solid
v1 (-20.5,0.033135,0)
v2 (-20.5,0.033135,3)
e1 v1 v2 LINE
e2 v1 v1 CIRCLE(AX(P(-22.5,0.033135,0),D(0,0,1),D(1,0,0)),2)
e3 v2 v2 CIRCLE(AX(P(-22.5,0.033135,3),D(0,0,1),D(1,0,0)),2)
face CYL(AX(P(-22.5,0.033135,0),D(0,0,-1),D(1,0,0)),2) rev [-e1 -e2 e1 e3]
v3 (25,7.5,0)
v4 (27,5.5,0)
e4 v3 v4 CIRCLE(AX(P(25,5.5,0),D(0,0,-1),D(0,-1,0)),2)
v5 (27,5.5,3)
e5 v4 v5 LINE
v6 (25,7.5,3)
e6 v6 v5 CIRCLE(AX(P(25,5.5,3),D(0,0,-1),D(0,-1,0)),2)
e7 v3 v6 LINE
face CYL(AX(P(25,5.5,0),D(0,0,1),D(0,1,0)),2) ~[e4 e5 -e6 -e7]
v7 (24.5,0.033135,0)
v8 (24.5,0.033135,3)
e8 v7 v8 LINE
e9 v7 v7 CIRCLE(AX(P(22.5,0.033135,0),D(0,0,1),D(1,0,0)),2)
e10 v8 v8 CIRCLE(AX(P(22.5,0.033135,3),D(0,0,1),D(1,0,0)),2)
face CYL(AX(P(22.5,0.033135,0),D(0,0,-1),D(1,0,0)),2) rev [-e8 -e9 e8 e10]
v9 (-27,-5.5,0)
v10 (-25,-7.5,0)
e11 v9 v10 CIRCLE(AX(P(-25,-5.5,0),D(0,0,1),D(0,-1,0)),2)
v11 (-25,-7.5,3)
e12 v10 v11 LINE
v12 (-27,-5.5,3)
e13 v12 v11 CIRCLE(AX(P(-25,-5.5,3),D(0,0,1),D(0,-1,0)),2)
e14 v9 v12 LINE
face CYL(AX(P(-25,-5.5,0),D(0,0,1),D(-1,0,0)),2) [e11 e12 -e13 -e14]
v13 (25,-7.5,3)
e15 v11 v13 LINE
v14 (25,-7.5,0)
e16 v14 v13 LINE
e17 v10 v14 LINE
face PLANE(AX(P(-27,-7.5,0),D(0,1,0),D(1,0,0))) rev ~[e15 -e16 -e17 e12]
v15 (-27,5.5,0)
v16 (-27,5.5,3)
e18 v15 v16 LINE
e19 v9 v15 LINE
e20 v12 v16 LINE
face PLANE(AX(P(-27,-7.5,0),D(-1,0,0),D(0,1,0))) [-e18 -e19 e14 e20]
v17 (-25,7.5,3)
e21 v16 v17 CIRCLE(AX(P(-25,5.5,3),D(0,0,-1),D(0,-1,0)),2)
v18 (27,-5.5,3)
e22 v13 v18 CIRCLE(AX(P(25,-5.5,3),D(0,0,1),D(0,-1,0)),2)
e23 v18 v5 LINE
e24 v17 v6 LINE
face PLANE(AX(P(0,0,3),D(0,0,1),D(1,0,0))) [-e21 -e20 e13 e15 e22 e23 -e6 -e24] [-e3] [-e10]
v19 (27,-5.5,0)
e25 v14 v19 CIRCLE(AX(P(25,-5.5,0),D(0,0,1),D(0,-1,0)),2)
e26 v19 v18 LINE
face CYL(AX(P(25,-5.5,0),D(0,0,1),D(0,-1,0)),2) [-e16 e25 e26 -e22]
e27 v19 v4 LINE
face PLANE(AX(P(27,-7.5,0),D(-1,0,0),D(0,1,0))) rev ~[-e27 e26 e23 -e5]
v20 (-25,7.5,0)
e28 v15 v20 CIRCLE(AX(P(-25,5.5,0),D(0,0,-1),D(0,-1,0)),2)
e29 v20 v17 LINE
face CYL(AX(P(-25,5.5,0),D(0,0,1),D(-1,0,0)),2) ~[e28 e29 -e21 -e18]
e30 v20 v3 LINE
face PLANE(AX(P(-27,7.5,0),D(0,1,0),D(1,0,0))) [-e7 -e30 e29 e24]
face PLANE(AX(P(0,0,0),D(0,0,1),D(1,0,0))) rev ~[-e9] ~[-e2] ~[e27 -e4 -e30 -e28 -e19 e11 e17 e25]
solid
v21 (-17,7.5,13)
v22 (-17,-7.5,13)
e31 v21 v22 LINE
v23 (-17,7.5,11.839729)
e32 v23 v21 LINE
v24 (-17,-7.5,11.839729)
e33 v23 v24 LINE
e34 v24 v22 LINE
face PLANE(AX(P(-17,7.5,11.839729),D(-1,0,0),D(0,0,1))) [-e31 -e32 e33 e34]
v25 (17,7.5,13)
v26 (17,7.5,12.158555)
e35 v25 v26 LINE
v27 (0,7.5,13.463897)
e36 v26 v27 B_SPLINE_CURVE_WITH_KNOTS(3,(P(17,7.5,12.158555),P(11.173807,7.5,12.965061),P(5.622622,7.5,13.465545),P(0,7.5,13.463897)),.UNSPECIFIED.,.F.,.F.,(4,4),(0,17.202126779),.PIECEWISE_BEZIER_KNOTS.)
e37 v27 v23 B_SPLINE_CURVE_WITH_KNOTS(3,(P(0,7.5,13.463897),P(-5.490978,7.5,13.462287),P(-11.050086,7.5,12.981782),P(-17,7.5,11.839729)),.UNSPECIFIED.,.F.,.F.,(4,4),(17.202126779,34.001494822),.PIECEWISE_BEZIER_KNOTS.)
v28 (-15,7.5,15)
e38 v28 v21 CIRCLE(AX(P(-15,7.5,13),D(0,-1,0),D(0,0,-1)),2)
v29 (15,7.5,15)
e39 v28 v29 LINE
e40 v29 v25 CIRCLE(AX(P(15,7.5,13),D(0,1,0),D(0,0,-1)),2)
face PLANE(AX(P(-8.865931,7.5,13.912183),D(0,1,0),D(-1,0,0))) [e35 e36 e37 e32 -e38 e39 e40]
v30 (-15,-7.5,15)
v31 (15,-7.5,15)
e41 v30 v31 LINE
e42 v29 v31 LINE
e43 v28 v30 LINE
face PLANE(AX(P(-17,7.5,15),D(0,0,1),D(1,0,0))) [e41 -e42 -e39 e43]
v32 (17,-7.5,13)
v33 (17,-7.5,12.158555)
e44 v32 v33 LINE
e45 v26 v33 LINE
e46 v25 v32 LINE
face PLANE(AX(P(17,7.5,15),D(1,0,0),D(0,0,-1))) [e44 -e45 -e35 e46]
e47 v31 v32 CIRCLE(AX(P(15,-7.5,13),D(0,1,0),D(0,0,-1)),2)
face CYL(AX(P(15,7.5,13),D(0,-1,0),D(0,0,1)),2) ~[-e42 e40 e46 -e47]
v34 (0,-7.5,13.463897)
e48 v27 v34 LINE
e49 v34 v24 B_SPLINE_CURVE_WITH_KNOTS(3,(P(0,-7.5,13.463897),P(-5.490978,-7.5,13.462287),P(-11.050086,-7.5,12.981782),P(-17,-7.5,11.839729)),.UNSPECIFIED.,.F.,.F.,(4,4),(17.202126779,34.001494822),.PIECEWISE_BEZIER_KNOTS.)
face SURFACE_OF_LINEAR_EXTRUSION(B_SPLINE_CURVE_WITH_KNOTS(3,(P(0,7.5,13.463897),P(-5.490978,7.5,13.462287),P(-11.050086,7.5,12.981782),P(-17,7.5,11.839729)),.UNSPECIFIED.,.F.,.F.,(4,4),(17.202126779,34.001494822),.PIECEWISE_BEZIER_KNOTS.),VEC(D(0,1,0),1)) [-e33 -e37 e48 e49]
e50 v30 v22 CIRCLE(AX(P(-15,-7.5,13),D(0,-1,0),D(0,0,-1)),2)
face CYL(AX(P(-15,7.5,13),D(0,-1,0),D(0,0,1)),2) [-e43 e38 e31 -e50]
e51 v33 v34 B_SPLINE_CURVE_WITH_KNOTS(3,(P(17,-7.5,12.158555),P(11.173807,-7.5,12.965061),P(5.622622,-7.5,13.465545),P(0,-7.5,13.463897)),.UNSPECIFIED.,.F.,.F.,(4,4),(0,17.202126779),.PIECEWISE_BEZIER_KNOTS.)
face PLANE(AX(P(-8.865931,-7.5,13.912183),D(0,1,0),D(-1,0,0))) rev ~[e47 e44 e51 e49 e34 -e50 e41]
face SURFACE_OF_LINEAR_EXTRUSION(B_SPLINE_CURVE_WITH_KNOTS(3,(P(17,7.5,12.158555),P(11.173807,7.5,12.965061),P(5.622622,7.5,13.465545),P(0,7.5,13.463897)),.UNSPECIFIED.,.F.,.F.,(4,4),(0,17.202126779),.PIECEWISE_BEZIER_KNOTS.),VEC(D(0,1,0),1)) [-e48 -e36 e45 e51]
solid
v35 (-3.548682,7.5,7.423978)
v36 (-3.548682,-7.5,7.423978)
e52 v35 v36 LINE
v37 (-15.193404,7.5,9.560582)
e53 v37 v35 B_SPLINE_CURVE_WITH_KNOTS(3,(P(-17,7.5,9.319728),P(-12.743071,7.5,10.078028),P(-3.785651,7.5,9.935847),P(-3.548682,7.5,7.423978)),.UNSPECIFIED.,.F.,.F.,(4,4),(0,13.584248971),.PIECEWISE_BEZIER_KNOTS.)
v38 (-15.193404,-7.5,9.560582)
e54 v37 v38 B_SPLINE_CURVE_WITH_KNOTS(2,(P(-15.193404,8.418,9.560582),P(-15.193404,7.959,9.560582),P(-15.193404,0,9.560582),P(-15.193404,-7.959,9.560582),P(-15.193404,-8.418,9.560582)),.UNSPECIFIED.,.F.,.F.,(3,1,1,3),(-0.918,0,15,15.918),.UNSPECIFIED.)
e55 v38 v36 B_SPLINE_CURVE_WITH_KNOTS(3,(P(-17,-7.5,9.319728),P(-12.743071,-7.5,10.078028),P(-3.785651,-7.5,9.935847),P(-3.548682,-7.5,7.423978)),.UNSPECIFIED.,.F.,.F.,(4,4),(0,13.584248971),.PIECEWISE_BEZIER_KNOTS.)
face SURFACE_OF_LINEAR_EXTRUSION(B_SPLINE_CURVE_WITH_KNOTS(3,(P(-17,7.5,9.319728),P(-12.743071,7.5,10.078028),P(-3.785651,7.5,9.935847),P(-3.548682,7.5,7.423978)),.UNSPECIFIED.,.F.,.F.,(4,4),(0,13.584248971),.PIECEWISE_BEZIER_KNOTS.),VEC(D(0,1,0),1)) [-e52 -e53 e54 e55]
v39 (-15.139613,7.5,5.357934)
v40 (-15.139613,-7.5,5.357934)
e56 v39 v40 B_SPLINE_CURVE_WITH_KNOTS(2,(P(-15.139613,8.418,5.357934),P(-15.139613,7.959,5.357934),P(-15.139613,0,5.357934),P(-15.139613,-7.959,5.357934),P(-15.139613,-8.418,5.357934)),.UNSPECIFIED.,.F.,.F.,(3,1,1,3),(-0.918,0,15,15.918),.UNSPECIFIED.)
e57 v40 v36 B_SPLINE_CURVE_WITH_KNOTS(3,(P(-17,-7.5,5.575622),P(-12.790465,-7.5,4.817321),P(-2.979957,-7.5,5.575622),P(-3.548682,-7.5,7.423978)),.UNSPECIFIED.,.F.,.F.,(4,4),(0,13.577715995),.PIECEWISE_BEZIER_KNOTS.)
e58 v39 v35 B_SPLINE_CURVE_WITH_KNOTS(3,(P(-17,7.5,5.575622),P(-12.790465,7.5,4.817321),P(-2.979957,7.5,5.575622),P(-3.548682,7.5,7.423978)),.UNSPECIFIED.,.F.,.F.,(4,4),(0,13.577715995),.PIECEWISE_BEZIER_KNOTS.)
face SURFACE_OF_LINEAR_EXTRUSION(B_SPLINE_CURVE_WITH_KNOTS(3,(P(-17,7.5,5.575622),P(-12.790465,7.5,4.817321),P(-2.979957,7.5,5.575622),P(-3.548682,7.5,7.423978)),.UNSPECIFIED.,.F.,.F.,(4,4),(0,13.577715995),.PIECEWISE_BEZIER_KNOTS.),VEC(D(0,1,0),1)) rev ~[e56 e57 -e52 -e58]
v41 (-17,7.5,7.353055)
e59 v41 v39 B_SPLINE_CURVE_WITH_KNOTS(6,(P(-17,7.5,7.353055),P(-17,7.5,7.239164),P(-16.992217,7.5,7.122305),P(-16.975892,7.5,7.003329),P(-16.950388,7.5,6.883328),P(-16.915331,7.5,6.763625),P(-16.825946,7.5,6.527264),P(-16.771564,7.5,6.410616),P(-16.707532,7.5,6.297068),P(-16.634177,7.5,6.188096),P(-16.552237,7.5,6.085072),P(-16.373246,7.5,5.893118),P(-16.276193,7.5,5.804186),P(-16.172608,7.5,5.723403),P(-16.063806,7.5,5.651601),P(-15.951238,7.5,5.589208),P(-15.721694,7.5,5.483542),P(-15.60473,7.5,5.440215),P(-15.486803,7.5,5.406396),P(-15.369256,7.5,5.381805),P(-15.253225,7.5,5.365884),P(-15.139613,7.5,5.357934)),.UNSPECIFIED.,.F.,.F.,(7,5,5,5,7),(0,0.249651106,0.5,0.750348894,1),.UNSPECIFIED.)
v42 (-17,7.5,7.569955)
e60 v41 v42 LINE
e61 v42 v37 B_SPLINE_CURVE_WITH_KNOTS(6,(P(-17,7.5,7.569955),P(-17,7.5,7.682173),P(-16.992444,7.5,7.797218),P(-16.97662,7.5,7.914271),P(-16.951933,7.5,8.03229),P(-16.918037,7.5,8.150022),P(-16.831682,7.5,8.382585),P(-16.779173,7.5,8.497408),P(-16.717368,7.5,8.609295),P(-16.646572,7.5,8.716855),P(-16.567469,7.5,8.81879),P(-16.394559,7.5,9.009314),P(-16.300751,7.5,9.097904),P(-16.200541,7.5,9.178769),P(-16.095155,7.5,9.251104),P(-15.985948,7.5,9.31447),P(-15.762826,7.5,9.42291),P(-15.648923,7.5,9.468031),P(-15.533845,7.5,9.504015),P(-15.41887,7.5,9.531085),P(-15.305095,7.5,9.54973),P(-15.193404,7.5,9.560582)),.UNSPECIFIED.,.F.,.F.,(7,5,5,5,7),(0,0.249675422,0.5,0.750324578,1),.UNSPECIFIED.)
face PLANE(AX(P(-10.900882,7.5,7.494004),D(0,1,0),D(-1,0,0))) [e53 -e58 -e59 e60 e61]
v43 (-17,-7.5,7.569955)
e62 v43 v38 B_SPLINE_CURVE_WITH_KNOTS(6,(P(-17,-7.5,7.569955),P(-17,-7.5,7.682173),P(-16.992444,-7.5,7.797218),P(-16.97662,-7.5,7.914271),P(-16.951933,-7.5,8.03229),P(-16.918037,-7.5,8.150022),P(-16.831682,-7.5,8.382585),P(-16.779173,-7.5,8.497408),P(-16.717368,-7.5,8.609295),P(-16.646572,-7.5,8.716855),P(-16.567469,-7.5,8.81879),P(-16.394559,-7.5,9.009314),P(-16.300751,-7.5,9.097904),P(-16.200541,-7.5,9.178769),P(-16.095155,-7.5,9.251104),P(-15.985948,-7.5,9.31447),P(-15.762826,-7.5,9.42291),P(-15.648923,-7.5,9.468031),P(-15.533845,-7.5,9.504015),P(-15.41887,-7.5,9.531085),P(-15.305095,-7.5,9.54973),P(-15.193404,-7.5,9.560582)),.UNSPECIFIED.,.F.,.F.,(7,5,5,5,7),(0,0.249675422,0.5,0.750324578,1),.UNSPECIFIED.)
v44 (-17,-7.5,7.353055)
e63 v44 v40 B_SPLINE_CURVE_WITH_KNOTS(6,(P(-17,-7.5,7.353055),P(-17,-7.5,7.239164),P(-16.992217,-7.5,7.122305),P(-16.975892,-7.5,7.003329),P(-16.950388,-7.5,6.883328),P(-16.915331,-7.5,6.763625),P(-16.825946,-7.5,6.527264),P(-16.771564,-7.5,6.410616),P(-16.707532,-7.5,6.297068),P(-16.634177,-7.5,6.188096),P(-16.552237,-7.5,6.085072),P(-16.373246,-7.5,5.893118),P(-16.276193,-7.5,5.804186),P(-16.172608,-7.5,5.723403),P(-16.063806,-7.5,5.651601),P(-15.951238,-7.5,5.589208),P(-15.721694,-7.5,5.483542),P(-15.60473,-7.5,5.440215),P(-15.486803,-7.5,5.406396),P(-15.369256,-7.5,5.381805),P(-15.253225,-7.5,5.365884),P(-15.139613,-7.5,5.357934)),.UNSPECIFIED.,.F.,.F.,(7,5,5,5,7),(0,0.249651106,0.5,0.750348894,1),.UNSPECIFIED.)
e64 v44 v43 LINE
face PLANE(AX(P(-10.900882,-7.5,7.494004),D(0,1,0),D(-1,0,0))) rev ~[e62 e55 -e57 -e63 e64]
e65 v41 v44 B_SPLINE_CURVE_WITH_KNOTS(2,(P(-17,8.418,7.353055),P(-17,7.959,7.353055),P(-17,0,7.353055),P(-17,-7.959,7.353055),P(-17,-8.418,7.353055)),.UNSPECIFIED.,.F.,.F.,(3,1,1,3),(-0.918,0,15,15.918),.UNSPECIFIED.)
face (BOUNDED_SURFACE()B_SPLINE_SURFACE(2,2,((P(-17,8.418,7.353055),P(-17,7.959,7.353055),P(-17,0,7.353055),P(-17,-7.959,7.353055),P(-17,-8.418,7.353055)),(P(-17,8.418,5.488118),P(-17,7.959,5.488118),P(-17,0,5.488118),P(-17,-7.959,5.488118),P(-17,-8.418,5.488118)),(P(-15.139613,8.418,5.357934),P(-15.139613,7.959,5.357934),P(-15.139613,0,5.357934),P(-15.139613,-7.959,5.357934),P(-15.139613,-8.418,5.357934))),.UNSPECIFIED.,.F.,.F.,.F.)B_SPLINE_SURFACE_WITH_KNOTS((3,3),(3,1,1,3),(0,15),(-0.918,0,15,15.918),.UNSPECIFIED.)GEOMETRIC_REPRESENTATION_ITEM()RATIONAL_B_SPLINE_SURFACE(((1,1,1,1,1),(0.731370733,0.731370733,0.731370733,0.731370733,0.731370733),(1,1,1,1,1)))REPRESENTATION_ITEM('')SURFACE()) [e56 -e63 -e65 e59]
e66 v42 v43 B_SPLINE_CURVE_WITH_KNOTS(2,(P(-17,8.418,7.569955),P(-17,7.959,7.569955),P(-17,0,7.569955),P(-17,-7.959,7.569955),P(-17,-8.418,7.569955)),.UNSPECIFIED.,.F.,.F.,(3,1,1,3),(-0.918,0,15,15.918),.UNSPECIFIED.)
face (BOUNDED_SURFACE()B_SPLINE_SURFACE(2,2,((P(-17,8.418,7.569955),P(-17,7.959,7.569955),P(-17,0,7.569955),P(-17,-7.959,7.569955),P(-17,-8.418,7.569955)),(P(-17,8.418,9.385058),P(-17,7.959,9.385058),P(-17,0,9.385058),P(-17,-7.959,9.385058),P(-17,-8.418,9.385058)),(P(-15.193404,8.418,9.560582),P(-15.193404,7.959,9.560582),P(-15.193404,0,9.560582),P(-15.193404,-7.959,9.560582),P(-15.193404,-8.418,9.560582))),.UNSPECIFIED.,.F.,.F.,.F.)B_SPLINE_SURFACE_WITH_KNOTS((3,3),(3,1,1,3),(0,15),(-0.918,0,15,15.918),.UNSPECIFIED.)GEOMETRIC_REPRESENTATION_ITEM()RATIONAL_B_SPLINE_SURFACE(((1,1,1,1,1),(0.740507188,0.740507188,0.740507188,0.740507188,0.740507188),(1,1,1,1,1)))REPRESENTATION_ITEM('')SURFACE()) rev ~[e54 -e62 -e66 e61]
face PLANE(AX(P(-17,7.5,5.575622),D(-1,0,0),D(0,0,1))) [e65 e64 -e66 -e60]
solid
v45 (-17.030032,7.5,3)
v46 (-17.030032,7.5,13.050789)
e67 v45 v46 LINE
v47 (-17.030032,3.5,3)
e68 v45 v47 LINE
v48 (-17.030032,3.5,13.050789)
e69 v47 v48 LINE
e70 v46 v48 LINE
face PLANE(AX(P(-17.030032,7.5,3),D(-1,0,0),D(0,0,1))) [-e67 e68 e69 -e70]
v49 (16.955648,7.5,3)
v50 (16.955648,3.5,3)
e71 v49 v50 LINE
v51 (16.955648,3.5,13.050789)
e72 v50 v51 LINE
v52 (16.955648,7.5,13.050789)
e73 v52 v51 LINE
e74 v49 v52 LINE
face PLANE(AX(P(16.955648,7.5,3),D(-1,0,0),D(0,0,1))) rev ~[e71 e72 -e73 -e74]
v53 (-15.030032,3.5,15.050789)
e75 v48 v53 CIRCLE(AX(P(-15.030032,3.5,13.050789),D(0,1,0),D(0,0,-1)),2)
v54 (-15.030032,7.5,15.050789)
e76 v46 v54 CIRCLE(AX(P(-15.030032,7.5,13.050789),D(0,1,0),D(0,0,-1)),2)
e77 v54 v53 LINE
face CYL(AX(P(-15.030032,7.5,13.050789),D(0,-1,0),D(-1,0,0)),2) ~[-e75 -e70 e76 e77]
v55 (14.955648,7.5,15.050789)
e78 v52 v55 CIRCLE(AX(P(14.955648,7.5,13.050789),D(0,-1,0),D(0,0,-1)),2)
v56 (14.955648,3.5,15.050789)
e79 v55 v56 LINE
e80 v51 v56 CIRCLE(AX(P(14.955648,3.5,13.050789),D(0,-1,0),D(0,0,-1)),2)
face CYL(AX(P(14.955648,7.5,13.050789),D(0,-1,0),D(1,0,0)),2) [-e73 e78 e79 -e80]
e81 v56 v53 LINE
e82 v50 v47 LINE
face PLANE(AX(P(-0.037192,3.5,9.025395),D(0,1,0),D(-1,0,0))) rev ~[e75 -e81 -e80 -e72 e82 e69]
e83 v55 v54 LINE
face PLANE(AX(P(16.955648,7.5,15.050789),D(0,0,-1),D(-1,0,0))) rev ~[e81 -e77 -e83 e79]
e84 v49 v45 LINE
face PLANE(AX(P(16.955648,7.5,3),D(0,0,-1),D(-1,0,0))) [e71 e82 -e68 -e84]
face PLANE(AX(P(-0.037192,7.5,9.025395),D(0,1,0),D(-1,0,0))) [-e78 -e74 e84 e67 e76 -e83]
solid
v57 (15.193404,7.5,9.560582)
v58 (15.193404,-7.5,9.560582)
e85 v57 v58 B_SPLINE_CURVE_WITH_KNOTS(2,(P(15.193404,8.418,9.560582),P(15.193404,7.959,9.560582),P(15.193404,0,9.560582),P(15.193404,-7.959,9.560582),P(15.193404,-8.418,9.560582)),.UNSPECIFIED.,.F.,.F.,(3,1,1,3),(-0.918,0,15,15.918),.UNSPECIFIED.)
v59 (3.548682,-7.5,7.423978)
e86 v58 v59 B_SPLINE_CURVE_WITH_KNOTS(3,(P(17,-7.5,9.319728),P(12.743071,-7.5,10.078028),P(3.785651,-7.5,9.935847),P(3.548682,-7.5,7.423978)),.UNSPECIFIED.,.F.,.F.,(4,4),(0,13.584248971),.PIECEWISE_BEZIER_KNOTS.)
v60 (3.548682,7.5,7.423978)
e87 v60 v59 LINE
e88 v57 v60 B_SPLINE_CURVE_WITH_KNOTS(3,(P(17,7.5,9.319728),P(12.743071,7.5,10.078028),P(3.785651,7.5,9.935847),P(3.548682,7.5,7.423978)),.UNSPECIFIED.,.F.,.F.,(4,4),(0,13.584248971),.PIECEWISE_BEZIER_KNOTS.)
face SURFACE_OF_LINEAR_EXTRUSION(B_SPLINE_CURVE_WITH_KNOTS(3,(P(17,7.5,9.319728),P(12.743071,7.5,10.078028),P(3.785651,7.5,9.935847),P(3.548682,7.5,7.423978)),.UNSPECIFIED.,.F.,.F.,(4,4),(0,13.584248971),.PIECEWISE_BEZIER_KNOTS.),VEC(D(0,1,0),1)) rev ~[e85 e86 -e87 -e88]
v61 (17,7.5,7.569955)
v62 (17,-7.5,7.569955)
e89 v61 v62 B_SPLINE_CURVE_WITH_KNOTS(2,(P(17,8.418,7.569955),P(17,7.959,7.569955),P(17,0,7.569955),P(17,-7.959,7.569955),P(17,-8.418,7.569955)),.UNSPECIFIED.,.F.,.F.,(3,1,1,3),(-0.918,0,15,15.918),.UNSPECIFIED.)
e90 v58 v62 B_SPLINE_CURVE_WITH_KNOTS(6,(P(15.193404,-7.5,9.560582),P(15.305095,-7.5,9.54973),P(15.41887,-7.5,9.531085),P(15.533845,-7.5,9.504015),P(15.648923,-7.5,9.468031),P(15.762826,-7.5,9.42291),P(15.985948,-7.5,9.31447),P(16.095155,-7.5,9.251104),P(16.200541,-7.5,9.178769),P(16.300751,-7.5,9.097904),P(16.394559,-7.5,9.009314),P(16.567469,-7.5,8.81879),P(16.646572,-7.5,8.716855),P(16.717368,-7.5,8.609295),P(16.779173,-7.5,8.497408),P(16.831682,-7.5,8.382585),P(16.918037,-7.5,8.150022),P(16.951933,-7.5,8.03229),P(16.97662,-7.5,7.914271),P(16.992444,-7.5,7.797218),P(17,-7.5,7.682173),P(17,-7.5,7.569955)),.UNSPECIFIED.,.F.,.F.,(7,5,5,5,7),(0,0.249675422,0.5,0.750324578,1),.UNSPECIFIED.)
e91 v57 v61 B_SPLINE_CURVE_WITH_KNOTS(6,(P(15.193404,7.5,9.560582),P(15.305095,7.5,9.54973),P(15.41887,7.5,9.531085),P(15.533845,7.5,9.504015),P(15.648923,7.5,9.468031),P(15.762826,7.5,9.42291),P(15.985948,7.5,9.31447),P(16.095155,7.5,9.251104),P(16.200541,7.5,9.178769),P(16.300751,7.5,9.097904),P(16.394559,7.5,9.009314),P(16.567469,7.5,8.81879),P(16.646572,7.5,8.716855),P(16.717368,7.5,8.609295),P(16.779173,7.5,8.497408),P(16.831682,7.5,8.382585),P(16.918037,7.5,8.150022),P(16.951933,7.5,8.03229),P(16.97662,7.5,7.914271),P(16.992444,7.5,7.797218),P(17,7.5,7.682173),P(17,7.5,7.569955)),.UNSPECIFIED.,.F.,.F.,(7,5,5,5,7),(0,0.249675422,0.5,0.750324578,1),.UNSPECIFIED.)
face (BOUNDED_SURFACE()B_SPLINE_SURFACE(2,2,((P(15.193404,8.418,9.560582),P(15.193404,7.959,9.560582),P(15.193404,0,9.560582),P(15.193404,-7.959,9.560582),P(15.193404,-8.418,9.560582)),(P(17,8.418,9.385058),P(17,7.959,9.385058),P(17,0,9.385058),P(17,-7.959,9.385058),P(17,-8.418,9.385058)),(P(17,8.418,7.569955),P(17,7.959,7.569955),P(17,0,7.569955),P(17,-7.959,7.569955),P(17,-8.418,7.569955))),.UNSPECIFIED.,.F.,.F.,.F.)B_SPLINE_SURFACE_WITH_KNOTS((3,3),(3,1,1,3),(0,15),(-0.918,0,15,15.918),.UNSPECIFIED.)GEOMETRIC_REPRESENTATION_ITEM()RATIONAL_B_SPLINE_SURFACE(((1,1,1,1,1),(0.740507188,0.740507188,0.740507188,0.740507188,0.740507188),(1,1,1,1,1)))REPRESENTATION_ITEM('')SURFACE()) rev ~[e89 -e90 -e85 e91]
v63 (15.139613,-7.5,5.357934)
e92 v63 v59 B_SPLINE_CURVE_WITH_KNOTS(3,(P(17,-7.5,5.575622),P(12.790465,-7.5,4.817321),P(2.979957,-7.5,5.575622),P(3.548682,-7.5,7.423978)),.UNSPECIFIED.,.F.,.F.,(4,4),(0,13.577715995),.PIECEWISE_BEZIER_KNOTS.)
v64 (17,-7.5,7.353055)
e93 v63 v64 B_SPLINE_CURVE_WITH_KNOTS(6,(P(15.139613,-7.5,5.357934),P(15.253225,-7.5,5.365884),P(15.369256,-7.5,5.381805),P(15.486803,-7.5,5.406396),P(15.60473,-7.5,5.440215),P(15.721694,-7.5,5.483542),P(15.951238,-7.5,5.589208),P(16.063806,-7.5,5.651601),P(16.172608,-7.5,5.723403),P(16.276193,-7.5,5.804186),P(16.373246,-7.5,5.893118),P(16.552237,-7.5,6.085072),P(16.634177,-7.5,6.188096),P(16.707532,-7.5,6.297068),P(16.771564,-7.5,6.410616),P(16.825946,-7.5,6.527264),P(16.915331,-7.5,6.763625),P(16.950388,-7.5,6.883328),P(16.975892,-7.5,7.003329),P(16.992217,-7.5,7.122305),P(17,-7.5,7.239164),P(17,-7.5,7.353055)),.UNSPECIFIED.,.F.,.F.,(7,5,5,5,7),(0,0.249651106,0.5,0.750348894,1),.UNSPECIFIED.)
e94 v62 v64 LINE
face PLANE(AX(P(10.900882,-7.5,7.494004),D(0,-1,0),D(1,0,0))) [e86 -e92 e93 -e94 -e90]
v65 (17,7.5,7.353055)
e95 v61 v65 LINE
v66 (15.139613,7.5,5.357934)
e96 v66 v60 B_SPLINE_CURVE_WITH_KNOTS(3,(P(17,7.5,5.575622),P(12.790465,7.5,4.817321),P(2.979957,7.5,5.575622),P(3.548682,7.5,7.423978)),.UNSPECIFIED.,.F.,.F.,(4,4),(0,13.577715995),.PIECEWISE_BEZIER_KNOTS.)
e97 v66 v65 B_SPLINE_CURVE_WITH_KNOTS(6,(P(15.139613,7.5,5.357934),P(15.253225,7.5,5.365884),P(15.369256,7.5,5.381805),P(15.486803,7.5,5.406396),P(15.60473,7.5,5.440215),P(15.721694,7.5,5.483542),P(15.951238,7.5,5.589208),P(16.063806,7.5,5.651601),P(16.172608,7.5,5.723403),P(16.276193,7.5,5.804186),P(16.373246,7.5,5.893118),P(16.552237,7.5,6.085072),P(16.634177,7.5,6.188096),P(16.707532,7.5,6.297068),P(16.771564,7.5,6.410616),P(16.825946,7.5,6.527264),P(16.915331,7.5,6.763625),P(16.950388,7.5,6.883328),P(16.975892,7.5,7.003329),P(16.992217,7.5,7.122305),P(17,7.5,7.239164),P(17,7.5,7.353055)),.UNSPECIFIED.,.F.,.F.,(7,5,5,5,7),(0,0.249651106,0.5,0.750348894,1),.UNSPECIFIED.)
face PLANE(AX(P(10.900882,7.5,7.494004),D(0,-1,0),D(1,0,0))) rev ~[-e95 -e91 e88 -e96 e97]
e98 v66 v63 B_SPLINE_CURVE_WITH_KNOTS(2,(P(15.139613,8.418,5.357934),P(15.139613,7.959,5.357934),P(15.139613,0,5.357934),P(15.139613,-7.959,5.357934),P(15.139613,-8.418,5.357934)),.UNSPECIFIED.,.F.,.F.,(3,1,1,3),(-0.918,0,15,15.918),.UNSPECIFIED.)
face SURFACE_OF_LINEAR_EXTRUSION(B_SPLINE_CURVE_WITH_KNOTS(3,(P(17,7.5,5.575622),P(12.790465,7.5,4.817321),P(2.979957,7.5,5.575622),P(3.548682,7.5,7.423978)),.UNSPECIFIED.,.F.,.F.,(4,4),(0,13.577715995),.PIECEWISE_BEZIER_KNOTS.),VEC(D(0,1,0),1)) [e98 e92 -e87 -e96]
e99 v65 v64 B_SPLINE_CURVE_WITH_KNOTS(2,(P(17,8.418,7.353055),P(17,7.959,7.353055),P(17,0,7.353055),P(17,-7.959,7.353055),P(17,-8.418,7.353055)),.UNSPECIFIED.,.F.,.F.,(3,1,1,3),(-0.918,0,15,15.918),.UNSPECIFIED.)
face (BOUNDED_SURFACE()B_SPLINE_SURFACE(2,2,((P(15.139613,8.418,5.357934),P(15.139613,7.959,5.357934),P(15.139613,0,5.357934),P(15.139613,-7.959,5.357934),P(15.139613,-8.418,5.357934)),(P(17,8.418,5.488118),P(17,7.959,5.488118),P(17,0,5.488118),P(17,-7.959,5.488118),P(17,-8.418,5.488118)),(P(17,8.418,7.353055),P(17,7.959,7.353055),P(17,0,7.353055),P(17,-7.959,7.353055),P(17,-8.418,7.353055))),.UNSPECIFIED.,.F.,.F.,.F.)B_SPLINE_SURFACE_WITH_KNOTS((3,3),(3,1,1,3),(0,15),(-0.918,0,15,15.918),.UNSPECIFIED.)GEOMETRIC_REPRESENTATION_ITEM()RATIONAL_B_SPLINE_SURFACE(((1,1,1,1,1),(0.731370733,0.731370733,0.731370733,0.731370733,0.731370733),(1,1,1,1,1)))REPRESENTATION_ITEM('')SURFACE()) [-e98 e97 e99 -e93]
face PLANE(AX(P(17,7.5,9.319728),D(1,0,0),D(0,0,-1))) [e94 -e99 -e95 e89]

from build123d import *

# Parameters (mm, degrees)
F0_W     = 54
F0_H     = 15
F0_R     = 2
F1_DEPTH = 3
F3_DEPTH = 15
F4_W     = 33.9856799692
F4_H     = 12.0507893413
F5_DEPTH = 4
F6_R     = 2
F6_2_R   = 2
F6_3_R   = 2
F6_4_R   = 2
F6_5_R   = 2


with BuildPart() as f1:
    # F0 (on Top) → F1 (new body)
    with BuildSketch(Plane.XY):
        Rectangle(F0_W, F0_H)
        with Locations((-22.5, 0.0331350166)):
            Circle(F0_R, mode=Mode.SUBTRACT)
        with Locations((22.5, 0.0331350166)):
            Circle(F0_R, mode=Mode.SUBTRACT)
    extrude(amount=F1_DEPTH)

    # F6
    f6_edges = [f1.edges().sort_by_distance(p)[0] for p in [
        (-27, 7.5, 1.5),
        (-27, -7.5, 1.5),
        (27, -7.5, 1.5),
        (27, 7.5, 1.5),
    ]]
    fillet(f6_edges, radius=F6_R)


with BuildPart() as f3:
    # F2 (on face) → F3 (new body)
    with BuildSketch(Plane(origin=(0, 7.5, 0), x_dir=(-1, 0, 0), z_dir=(0, 1, 0))):
        with BuildLine():
            add(Edge.make_bspline(
                [(-17, 9.3197282404), (-12.7430707216, 10.0780278444), (-3.7856509443, 9.9358474836), (-3.5486822017, 7.4239778332)],
                knots=[0, 0, 0, 0, 13.5842489714, 13.5842489714, 13.5842489714, 13.5842489714], degree=3))
            Line((-17, 9.3197282404), (-17, 5.5756215006))
            add(Edge.make_bspline(
                [(-17, 5.5756215006), (-12.7904647961, 4.8173209652), (-2.9799570329, 5.5756215006), (-3.5486822017, 7.4239778332)],
                knots=[0, 0, 0, 0, 13.5777159951, 13.5777159951, 13.5777159951, 13.5777159951], degree=3))
        make_face()
    extrude(amount=-F3_DEPTH)

    # F6#5
    f6_5_edges = [f3.edges().sort_by_distance(p)[0] for p in [
        (17, 0, 9.319728),
        (17, 0, 5.575622),
    ]]
    fillet(f6_5_edges, radius=F6_5_R)


with BuildPart() as f3b:
    # F2 (on face) → F3, piece 2 (new body)
    with BuildSketch(Plane(origin=(0, 7.5, 0), x_dir=(-1, 0, 0), z_dir=(0, 1, 0))):
        with BuildLine():
            Line((17, 5.5756215006), (17, 9.3197282404))
            add(Edge.make_bspline(
                [(17, 9.3197282404), (12.7430707216, 10.0780278444), (3.7856509443, 9.9358474836), (3.5486822017, 7.4239778332)],
                knots=[0, 0, 0, 0, 13.5842489714, 13.5842489714, 13.5842489714, 13.5842489714], degree=3))
            add(Edge.make_bspline(
                [(17, 5.5756215006), (12.7904647961, 4.8173209652), (2.9799570329, 5.5756215006), (3.5486822017, 7.4239778332)],
                knots=[0, 0, 0, 0, 13.5777159951, 13.5777159951, 13.5777159951, 13.5777159951], degree=3))
        make_face()
    extrude(amount=-F3_DEPTH)

    # F6#4
    f6_4_edges = [f3b.edges().sort_by_distance(p)[0] for p in [
        (-17, 0, 9.319728),
        (-17, 0, 5.575622),
    ]]
    fillet(f6_4_edges, radius=F6_4_R)


with BuildPart() as f3c:
    # F2 (on face) → F3, piece 3 (new body)
    with BuildSketch(Plane(origin=(0, 7.5, 0), x_dir=(-1, 0, 0), z_dir=(0, 1, 0))):
        with BuildLine():
            Line((17, 15), (0, 15))
            Line((0, 15), (0, 13.4638967375))
            add(Edge.make_bspline(
                [(0, 13.4638967375), (5.4909777236, 13.4622868202), (11.050086041, 12.9817824828), (17, 11.8397288024)],
                knots=[17.2021267795, 17.2021267795, 17.2021267795, 17.2021267795, 34.001494822, 34.001494822, 34.001494822, 34.001494822], degree=3))
            Line((17, 11.8397288024), (17, 15))
        make_face()
        with BuildLine():
            Line((0, 15), (-17, 15))
            Line((-17, 15), (-17, 12.1585549787))
            add(Edge.make_bspline(
                [(-17, 12.1585549787), (-11.173807267, 12.9650614468), (-5.6226219168, 13.4655452519), (0, 13.4638967375)],
                knots=[0, 0, 0, 0, 17.2021267795, 17.2021267795, 17.2021267795, 17.2021267795], degree=3))
            Line((0, 13.4638967375), (0, 15))
        make_face()
    extrude(amount=-F3_DEPTH)

    # F6#2
    f6_2_edges = [f3c.edges().sort_by_distance(p)[0] for p in [
        (-17, 0, 15),
        (17, 0, 15),
    ]]
    fillet(f6_2_edges, radius=F6_2_R)


with BuildPart() as f5:
    # F4 (on face) → F5 (new body)
    with BuildSketch(Plane(origin=(0, 7.5, 0), x_dir=(-1, 0, 0), z_dir=(0, 1, 0))):
        with Locations((0.037192367, 9.0253946707)):
            Rectangle(F4_W, F4_H)
    extrude(amount=-F5_DEPTH)

    # F6#3
    f6_3_edges = [f5.edges().sort_by_distance(p)[0] for p in [
        (-17.030032, 5.5, 15.050789),
        (16.955648, 5.5, 15.050789),
    ]]
    fillet(f6_3_edges, radius=F6_3_R)


solid = Compound([f1.part, f3.part, f3b.part, f3c.part, f5.part])
